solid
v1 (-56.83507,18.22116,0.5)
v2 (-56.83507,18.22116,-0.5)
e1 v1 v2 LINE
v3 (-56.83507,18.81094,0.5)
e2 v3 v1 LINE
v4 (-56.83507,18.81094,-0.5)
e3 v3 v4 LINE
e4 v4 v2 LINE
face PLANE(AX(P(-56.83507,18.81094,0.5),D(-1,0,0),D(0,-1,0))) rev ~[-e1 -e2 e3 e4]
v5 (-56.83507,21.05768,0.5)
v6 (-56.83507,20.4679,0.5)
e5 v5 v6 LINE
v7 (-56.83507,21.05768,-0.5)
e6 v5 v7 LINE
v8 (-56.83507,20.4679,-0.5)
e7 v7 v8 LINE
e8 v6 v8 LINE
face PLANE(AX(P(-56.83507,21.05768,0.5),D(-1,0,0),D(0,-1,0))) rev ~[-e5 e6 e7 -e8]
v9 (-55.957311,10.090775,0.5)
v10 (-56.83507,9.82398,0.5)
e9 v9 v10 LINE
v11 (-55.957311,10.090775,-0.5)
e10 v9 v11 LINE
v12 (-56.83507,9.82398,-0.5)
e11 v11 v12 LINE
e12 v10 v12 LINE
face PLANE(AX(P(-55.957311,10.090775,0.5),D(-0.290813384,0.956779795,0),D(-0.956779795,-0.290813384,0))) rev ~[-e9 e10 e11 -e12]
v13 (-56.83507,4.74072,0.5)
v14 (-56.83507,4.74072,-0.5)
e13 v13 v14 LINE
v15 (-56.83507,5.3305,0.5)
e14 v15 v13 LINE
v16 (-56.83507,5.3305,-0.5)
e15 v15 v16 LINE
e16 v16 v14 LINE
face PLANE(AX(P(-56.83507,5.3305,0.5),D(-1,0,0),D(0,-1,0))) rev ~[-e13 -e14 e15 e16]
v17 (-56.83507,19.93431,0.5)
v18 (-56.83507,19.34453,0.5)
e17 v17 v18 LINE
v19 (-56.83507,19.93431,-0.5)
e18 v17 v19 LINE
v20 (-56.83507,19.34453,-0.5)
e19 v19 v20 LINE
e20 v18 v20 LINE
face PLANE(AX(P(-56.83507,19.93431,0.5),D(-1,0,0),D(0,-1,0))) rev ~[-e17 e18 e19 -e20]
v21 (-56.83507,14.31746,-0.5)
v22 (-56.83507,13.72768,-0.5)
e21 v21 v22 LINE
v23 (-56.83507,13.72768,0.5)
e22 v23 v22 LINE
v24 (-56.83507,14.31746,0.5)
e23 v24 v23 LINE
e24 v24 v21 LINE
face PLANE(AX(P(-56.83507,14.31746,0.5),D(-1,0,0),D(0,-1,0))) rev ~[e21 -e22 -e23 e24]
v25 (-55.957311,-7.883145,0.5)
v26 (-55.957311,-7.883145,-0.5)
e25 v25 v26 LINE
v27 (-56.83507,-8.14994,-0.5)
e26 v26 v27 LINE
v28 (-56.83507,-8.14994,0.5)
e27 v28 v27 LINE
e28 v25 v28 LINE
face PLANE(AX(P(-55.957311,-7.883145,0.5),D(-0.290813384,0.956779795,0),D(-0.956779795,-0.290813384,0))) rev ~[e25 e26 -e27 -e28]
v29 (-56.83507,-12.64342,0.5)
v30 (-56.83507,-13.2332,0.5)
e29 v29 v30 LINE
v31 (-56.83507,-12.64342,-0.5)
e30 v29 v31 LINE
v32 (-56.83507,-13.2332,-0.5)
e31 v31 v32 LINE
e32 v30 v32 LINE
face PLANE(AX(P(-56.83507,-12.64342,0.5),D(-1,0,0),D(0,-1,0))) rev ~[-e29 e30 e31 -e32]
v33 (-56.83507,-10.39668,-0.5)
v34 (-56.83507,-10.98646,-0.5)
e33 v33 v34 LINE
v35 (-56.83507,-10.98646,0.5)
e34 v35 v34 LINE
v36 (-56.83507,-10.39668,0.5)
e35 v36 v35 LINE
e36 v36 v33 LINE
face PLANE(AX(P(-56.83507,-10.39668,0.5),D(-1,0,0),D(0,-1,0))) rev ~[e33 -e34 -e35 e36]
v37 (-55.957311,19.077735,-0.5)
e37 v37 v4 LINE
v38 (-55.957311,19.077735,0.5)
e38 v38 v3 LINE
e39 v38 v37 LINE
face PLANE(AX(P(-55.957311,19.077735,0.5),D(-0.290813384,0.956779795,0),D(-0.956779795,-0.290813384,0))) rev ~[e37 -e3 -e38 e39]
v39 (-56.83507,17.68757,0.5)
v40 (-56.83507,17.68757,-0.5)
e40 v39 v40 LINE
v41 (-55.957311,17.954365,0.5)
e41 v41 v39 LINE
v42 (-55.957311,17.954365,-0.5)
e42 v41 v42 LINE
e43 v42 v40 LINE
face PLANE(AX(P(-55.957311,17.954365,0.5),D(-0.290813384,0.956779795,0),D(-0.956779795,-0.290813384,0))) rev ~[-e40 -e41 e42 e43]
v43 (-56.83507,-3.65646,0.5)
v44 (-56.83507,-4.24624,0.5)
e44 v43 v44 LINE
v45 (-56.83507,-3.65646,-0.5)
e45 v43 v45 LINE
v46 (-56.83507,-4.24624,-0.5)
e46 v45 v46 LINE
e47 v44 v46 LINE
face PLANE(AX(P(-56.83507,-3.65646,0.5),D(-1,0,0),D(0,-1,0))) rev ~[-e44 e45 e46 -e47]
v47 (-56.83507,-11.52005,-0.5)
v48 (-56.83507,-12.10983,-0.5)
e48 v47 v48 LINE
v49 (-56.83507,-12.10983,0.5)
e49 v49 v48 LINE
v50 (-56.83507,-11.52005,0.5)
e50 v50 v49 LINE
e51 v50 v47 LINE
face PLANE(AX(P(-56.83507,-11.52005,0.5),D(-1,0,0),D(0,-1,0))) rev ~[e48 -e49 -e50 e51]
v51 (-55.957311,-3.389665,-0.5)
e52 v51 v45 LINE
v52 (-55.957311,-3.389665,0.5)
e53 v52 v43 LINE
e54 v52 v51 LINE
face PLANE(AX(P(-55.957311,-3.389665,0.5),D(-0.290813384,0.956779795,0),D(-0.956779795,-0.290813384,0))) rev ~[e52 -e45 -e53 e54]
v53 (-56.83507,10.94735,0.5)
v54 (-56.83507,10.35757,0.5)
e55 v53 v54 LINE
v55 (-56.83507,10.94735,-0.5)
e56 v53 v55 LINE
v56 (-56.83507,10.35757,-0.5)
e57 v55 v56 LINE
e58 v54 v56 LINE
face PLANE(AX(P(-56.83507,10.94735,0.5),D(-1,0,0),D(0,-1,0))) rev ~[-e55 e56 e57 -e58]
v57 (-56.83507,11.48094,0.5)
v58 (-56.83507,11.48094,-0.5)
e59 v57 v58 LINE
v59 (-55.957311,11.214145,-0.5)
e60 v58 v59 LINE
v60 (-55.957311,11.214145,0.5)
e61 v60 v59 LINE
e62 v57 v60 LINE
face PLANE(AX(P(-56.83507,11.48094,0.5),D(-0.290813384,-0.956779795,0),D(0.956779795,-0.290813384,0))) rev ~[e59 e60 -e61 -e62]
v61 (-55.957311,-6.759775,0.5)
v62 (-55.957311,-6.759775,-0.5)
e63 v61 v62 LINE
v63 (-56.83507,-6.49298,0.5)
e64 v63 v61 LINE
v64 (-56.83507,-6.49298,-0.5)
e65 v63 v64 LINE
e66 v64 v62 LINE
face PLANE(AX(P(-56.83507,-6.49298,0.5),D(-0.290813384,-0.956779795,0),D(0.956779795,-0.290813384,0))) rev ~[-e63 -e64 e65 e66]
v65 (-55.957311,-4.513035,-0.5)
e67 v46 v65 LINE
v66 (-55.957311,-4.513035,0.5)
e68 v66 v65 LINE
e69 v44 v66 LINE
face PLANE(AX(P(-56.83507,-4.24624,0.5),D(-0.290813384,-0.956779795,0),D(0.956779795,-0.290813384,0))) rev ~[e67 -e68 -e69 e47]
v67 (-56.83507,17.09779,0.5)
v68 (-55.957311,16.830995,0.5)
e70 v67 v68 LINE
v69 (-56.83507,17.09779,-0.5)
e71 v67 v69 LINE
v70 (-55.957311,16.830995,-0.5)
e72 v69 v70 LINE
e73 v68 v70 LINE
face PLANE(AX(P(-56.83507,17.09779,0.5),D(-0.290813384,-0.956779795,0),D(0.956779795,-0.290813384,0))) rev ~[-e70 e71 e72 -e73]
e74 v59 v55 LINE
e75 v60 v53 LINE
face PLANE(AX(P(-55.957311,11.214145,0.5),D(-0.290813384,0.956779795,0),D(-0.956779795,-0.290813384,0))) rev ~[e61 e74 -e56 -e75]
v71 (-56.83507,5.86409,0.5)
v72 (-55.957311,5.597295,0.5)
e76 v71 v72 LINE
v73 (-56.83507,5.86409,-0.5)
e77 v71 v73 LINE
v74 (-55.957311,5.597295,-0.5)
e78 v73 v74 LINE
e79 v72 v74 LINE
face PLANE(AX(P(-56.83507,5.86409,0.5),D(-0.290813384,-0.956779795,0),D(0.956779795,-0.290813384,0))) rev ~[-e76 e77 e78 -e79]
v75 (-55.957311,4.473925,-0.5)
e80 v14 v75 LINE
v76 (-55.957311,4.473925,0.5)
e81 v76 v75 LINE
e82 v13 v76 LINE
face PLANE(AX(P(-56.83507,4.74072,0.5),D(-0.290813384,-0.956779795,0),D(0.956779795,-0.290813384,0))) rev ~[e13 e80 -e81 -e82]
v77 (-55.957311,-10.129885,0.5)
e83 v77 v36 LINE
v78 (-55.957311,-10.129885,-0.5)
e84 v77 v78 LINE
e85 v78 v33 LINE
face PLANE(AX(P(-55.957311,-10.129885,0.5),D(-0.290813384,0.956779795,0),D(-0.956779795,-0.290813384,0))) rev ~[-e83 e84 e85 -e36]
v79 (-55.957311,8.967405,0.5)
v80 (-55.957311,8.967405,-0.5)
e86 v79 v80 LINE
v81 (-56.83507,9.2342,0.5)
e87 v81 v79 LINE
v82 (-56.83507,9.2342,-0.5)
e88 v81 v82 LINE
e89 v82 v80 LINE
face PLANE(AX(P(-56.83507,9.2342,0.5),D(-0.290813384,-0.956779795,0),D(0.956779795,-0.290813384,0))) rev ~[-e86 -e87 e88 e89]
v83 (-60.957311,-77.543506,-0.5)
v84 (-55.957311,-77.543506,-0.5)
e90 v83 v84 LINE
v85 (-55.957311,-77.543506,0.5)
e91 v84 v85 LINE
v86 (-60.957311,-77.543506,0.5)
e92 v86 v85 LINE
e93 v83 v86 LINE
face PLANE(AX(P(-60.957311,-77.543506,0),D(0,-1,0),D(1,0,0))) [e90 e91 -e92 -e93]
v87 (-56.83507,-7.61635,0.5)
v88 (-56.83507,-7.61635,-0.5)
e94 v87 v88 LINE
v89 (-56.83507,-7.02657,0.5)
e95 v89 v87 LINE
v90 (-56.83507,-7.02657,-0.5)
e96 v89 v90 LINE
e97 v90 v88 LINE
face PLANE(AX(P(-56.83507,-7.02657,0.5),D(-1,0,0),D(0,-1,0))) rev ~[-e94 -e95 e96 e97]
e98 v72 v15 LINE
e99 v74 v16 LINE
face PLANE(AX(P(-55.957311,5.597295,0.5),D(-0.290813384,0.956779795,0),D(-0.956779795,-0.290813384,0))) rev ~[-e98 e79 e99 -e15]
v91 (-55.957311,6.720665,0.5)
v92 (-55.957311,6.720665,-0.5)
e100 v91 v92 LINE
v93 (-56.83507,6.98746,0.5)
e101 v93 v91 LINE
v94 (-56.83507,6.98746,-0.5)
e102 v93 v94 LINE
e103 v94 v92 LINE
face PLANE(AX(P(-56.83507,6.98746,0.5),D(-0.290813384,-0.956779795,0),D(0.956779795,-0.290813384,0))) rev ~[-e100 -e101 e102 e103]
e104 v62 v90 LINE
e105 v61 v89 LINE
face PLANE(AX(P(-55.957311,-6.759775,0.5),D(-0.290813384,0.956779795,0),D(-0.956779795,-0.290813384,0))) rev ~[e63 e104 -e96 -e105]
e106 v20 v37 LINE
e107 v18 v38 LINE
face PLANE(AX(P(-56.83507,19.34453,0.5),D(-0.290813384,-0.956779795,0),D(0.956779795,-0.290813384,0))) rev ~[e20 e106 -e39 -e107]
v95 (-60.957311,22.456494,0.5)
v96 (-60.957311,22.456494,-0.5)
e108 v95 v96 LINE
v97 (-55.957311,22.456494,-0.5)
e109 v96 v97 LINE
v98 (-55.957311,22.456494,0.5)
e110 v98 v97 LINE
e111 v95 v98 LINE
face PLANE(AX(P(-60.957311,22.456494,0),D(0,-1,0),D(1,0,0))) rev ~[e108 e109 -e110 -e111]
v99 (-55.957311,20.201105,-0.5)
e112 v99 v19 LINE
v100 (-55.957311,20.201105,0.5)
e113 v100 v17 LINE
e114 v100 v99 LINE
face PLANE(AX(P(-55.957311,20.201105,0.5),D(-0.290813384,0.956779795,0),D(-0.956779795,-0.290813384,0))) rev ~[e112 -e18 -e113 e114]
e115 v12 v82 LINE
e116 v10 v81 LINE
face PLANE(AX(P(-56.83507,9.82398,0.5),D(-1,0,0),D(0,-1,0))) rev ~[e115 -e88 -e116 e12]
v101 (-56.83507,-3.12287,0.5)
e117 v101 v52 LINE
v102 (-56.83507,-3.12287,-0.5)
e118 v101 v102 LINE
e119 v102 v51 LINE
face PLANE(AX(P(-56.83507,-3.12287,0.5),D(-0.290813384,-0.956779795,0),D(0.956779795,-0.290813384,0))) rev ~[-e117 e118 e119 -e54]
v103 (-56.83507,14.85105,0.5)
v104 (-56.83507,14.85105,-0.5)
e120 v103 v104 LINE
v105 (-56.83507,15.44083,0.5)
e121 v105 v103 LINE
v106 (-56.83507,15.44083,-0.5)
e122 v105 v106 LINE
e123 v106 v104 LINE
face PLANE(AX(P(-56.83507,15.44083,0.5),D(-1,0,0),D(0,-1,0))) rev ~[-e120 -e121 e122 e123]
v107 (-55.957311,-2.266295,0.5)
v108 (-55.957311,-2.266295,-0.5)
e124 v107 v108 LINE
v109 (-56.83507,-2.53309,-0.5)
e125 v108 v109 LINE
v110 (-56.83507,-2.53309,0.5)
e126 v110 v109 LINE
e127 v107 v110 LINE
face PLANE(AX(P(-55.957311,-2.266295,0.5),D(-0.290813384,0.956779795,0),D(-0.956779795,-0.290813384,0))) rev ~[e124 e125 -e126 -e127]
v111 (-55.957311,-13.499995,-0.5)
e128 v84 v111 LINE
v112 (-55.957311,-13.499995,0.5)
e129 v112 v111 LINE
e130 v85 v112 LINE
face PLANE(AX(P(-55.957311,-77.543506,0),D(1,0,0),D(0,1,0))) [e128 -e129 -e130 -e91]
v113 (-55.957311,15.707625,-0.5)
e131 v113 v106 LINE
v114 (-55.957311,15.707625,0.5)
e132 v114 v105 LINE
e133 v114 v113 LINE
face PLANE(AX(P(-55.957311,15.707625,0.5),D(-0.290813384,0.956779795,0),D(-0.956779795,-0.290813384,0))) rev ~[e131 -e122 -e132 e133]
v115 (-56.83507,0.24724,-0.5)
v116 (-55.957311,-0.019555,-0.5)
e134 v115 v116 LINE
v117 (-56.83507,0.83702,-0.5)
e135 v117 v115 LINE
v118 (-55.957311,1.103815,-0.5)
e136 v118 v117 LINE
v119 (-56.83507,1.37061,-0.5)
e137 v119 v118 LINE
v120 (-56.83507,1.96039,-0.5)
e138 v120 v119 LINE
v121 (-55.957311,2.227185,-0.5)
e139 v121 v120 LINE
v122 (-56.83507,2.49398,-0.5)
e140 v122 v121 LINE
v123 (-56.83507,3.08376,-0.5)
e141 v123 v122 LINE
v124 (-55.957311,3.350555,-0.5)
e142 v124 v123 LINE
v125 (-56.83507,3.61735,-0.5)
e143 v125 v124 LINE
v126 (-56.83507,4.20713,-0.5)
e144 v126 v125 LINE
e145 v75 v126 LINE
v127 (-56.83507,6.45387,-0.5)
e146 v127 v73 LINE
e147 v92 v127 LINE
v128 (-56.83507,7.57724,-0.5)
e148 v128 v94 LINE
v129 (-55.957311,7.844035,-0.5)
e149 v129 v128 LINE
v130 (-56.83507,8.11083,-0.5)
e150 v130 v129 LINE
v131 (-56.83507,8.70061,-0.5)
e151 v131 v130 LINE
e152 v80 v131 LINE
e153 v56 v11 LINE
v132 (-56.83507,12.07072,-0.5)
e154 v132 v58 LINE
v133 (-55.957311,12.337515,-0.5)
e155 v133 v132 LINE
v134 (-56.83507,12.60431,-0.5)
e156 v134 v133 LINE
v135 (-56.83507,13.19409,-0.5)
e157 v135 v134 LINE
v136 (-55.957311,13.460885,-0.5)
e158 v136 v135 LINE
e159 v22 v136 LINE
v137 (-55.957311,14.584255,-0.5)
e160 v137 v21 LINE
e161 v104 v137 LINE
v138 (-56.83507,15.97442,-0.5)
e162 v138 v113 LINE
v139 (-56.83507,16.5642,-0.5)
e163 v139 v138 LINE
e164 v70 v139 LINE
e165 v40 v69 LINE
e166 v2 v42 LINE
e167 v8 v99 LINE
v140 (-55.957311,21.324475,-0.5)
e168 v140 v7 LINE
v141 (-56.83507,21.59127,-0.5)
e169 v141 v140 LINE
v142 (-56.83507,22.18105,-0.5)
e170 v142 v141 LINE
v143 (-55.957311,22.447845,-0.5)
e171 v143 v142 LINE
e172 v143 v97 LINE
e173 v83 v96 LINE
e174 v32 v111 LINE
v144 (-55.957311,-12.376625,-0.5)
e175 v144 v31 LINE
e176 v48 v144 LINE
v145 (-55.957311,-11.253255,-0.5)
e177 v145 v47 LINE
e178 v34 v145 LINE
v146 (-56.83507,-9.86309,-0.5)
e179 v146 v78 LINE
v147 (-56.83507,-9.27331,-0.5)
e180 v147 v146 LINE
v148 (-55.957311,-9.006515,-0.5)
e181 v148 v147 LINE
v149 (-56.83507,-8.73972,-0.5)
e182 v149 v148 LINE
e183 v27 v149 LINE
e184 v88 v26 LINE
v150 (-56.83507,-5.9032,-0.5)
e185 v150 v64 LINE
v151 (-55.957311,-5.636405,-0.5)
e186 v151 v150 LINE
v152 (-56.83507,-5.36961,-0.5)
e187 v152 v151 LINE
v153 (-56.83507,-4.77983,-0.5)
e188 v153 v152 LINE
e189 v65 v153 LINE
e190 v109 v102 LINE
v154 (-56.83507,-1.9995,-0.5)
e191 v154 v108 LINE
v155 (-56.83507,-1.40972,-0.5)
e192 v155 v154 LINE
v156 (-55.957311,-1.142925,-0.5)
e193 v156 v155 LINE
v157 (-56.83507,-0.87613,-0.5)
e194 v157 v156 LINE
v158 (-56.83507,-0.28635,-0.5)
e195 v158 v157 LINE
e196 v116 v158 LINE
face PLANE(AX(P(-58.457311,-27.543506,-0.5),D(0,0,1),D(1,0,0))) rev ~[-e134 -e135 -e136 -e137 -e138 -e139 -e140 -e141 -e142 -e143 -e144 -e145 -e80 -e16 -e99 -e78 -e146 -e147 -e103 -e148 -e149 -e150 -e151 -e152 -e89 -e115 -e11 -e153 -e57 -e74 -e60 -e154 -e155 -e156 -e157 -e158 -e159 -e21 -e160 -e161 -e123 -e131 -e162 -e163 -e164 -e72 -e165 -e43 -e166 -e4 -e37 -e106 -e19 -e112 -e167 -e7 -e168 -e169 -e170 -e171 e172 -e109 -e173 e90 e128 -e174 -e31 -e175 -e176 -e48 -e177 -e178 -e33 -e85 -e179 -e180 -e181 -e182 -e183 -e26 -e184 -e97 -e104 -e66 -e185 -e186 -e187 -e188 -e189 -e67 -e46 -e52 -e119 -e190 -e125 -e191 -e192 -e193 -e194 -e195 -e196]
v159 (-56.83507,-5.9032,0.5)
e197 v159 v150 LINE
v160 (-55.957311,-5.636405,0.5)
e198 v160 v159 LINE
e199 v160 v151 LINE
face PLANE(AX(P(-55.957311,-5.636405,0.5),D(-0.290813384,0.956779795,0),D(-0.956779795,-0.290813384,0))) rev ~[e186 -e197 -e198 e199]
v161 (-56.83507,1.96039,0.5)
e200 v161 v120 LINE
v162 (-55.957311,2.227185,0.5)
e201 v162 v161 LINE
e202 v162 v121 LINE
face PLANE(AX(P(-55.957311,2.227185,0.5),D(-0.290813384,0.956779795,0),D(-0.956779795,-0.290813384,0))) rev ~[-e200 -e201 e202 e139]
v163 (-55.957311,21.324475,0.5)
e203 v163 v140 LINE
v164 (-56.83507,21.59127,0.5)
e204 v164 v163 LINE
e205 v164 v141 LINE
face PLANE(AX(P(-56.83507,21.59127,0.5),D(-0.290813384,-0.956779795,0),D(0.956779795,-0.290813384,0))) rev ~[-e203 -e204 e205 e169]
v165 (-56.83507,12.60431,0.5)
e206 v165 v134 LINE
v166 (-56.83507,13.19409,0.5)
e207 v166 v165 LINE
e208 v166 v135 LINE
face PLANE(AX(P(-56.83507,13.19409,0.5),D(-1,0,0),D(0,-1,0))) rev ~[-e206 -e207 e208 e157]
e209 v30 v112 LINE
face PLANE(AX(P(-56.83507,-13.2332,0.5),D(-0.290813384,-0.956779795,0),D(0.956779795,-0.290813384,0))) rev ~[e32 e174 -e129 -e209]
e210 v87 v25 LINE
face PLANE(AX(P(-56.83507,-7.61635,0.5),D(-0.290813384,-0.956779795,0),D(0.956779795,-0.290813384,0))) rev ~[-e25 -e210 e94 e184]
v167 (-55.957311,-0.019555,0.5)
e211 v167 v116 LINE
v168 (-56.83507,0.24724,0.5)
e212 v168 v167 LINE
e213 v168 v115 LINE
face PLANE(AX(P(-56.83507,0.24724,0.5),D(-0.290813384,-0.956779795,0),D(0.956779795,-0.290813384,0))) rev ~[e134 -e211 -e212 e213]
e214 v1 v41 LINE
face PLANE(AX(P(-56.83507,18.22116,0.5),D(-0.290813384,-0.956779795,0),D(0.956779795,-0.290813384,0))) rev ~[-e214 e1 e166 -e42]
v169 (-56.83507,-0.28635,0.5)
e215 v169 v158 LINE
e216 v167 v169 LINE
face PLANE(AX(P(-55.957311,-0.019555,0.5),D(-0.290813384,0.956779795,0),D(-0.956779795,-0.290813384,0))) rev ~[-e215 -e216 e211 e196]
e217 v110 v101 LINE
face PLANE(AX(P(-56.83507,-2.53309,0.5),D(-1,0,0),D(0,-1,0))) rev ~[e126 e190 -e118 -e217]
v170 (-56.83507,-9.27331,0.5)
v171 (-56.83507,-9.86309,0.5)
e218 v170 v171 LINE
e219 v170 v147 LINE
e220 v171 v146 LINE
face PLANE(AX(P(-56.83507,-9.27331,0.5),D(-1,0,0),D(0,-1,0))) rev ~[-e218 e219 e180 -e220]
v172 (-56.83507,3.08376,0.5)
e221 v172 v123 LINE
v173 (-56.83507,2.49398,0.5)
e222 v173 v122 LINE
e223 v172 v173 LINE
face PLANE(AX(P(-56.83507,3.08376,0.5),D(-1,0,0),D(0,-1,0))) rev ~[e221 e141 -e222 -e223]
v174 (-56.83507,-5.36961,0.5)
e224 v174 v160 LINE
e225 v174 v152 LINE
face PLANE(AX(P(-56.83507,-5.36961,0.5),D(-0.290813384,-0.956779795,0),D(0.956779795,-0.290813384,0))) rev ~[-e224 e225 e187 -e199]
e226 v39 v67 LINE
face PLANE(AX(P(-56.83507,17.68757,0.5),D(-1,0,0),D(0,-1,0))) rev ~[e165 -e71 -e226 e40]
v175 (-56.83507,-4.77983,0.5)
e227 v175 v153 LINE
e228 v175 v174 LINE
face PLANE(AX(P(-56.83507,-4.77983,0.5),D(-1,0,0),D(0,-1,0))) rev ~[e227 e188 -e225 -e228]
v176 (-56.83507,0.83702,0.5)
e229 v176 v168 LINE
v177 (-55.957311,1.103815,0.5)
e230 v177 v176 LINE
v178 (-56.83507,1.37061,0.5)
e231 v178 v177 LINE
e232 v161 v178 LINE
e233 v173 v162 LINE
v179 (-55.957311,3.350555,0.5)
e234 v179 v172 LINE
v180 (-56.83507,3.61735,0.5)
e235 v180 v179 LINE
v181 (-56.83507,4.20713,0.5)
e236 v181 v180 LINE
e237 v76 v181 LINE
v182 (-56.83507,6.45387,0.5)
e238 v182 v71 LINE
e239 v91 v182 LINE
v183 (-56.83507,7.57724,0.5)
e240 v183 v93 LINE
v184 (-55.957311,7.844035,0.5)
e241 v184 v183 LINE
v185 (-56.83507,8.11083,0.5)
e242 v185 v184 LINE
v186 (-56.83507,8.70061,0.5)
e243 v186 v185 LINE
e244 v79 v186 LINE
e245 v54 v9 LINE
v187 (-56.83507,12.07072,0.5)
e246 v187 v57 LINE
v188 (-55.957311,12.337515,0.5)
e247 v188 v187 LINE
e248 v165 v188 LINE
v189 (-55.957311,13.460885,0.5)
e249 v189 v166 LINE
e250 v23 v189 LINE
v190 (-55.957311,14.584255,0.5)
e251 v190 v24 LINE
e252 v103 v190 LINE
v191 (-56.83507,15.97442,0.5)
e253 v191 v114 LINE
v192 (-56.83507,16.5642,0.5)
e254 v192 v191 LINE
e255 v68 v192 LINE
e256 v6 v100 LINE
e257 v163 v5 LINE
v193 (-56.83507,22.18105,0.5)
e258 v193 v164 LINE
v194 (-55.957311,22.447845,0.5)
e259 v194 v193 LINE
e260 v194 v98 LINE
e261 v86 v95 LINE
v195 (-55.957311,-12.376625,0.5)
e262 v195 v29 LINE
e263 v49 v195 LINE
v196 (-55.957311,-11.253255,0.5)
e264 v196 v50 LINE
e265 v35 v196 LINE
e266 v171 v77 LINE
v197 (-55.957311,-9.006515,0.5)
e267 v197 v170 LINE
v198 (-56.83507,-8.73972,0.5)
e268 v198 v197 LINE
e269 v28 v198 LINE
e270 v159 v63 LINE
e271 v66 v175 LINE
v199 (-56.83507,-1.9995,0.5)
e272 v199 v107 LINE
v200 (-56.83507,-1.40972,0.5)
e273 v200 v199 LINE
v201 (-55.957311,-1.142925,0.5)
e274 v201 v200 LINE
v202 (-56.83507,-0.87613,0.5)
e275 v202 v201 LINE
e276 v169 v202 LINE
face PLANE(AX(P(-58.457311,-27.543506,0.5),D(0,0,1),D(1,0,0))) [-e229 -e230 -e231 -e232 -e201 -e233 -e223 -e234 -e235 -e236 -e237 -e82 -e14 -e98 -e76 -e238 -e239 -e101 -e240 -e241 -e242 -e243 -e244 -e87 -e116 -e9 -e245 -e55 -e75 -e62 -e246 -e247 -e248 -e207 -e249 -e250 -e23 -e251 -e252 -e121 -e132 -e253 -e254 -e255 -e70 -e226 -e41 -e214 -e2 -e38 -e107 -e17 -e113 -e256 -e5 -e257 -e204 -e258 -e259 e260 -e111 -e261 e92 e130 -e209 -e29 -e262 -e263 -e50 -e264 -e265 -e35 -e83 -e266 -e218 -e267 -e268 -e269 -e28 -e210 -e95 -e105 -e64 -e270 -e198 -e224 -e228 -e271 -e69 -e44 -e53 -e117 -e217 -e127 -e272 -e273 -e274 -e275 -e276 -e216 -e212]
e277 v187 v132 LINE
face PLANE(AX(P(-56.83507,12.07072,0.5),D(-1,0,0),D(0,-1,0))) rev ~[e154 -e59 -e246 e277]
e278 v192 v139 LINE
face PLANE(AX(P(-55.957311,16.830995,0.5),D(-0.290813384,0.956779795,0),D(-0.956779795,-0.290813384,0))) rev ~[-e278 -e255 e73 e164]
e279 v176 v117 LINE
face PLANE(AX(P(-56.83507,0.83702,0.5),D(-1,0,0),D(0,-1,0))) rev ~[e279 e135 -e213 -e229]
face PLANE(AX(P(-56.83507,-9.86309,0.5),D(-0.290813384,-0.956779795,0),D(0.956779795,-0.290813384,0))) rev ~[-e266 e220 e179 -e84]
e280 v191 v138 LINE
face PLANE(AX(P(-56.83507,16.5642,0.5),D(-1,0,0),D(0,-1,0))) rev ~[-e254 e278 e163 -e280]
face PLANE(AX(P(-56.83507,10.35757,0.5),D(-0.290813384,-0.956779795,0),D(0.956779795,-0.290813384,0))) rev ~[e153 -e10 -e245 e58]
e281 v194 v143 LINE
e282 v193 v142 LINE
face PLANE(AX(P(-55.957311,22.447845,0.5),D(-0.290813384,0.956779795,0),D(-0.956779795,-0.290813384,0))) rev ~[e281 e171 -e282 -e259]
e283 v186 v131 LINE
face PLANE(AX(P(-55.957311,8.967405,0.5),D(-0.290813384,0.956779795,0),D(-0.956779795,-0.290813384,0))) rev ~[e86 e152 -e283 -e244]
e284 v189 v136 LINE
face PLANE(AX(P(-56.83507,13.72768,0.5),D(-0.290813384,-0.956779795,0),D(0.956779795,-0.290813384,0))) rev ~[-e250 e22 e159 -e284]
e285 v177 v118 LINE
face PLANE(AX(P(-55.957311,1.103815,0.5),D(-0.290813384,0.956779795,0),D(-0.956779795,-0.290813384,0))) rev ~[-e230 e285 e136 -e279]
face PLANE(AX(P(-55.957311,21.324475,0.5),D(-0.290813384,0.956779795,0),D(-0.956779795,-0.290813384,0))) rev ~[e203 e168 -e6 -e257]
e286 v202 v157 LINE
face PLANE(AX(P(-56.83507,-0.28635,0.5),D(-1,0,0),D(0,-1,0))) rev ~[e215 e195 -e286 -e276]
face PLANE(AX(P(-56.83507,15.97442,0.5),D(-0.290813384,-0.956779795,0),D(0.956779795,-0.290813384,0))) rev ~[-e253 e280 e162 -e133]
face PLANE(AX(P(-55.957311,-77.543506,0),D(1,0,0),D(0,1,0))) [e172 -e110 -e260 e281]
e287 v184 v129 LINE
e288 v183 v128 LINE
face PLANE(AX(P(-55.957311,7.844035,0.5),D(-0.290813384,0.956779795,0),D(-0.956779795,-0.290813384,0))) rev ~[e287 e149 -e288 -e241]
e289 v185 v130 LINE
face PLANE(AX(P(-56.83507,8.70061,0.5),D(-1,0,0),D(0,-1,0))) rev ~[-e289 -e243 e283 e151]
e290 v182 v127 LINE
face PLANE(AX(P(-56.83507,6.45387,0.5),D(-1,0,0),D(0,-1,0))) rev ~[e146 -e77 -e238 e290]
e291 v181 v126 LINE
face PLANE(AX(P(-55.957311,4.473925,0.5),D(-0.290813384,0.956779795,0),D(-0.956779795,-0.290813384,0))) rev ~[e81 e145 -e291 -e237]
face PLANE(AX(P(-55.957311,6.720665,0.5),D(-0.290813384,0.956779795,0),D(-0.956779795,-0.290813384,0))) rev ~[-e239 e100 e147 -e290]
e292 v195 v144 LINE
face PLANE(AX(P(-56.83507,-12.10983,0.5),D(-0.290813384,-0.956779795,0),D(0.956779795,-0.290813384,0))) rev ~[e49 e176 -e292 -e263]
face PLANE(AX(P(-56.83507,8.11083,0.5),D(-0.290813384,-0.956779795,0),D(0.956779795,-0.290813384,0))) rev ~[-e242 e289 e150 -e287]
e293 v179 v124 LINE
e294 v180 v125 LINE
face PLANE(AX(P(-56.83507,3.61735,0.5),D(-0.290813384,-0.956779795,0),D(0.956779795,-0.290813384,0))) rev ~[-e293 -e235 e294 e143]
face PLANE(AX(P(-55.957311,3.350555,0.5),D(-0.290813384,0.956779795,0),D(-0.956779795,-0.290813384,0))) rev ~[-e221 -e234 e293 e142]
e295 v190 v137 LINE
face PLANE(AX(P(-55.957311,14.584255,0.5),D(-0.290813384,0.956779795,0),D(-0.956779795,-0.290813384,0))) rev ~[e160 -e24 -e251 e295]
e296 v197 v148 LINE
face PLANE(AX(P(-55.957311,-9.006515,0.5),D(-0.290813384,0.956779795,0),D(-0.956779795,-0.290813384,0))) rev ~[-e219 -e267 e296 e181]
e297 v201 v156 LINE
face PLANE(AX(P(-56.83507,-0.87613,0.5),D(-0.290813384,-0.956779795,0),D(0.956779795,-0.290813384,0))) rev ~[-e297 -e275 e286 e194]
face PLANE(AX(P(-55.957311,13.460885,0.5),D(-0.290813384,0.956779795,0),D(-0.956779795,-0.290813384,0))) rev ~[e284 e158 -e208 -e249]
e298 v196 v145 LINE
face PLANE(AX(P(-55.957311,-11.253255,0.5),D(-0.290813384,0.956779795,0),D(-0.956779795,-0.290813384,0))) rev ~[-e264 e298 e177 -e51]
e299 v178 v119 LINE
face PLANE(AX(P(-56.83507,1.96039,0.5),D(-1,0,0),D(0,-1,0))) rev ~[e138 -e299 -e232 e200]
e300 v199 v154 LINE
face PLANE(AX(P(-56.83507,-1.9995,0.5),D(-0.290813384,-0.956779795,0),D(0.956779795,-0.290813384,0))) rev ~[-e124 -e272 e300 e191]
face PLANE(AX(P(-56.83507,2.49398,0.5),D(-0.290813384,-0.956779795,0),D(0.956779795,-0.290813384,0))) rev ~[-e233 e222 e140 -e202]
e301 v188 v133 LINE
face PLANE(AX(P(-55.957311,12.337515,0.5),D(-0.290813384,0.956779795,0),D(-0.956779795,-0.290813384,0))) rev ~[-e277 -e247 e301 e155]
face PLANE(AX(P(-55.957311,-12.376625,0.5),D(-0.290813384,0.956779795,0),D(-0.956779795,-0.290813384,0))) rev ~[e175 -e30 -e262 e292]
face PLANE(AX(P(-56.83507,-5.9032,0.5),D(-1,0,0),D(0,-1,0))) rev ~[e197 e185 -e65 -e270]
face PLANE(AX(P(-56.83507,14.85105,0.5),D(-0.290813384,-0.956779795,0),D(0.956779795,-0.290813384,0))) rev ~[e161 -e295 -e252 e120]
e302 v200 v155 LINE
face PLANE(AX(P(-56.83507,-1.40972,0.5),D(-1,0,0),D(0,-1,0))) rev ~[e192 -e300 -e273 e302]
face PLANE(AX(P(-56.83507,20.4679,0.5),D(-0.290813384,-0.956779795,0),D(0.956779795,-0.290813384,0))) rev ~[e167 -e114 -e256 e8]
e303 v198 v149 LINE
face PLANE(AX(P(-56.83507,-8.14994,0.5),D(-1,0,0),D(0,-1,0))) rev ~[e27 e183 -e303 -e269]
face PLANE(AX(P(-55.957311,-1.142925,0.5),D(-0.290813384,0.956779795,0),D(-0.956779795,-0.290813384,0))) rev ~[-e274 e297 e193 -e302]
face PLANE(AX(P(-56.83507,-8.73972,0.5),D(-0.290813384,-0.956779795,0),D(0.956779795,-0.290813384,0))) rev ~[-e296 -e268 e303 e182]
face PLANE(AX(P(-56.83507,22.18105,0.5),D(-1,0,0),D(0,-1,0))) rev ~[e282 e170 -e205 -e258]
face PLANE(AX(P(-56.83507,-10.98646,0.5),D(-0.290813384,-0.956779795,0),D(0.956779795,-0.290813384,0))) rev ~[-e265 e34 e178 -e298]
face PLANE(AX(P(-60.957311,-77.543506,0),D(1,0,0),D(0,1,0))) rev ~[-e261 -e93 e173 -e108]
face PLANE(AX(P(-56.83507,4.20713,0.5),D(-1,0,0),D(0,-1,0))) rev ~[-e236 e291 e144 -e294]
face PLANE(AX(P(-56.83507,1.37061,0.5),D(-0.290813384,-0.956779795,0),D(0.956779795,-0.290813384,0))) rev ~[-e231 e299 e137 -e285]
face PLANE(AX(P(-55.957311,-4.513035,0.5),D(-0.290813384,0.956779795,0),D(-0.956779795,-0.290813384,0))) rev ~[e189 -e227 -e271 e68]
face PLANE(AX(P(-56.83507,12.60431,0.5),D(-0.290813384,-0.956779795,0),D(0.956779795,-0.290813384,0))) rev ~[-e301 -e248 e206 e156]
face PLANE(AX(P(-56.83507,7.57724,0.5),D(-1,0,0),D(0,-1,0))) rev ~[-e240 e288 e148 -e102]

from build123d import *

# Parameters (mm, degrees)
F0_W     = 5
F0_H     = 100
F1_DEPTH = 0.5
F3_DEPTH = 25


with BuildPart() as f1:
    # F0 (on Top) → F1 (new body, symmetric)
    with BuildSketch(Plane.XY):
        with Locations((-58.457311, -27.543506)):
            Rectangle(F0_W, F0_H)
    extrude(amount=F1_DEPTH, both=True)

    # F2 (on face) → F3 (cut)
    with BuildSketch(Plane.XY.offset(0.5)):
        Polygon((-55.957311, 22.447845), (-56.83507, 22.18105), (-56.83507, 21.59127), (-55.957311, 21.324475), align=None)
        Polygon((-55.957311, 20.201105), (-55.957311, 21.324475), (-56.83507, 21.05768), (-56.83507, 20.4679), align=None)
        Polygon((-55.957311, 19.077735), (-55.957311, 20.201105), (-56.83507, 19.93431), (-56.83507, 19.34453), align=None)
        Polygon((-55.957311, 17.954365), (-55.957311, 19.077735), (-56.83507, 18.81094), (-56.83507, 18.22116), align=None)
        Polygon((-55.957311, 16.830995), (-55.957311, 17.954365), (-56.83507, 17.68757), (-56.83507, 17.09779), align=None)
        Polygon((-55.957311, 15.707625), (-55.957311, 16.830995), (-56.83507, 16.5642), (-56.83507, 15.97442), align=None)
        Polygon((-55.957311, 14.584255), (-55.957311, 15.707625), (-56.83507, 15.44083), (-56.83507, 14.85105), align=None)
        Polygon((-55.957311, 13.460885), (-55.957311, 14.584255), (-56.83507, 14.31746), (-56.83507, 13.72768), align=None)
        Polygon((-55.957311, 12.337515), (-55.957311, 13.460885), (-56.83507, 13.19409), (-56.83507, 12.60431), align=None)
        Polygon((-55.957311, 11.214145), (-55.957311, 12.337515), (-56.83507, 12.07072), (-56.83507, 11.48094), align=None)
        Polygon((-55.957311, 10.090775), (-55.957311, 11.214145), (-56.83507, 10.94735), (-56.83507, 10.35757), align=None)
        Polygon((-55.957311, 8.967405), (-55.957311, 10.090775), (-56.83507, 9.82398), (-56.83507, 9.2342), align=None)
        Polygon((-55.957311, 7.844035), (-55.957311, 8.967405), (-56.83507, 8.70061), (-56.83507, 8.11083), align=None)
        Polygon((-55.957311, 6.720665), (-55.957311, 7.844035), (-56.83507, 7.57724), (-56.83507, 6.98746), align=None)
        Polygon((-55.957311, 5.597295), (-55.957311, 6.720665), (-56.83507, 6.45387), (-56.83507, 5.86409), align=None)
        Polygon((-55.957311, 4.473925), (-55.957311, 5.597295), (-56.83507, 5.3305), (-56.83507, 4.74072), align=None)
        Polygon((-55.957311, 3.350555), (-55.957311, 4.473925), (-56.83507, 4.20713), (-56.83507, 3.61735), align=None)
        Polygon((-55.957311, 2.227185), (-55.957311, 3.350555), (-56.83507, 3.08376), (-56.83507, 2.49398), align=None)
        Polygon((-55.957311, 1.103815), (-55.957311, 2.227185), (-56.83507, 1.96039), (-56.83507, 1.37061), align=None)
        Polygon((-56.83507, 0.24724), (-55.957311, -0.019555), (-55.957311, 1.103815), (-56.83507, 0.83702), align=None)
        Polygon((-56.83507, -0.87613), (-55.957311, -1.142925), (-55.957311, -0.019555), (-56.83507, -0.28635), align=None)
        Polygon((-56.83507, -1.9995), (-55.957311, -2.266295), (-55.957311, -1.142925), (-56.83507, -1.40972), align=None)
        Polygon((-56.83507, -3.12287), (-55.957311, -3.389665), (-55.957311, -2.266295), (-56.83507, -2.53309), align=None)
        Polygon((-56.83507, -4.24624), (-55.957311, -4.513035), (-55.957311, -3.389665), (-56.83507, -3.65646), align=None)
        Polygon((-56.83507, -5.36961), (-55.957311, -5.636405), (-55.957311, -4.513035), (-56.83507, -4.77983), align=None)
        Polygon((-56.83507, -6.49298), (-55.957311, -6.759775), (-55.957311, -5.636405), (-56.83507, -5.9032), align=None)
        Polygon((-56.83507, -7.61635), (-55.957311, -7.883145), (-55.957311, -6.759775), (-56.83507, -7.02657), align=None)
        Polygon((-56.83507, -8.73972), (-55.957311, -9.006515), (-55.957311, -7.883145), (-56.83507, -8.14994), align=None)
        Polygon((-56.83507, -9.86309), (-55.957311, -10.129885), (-55.957311, -9.006515), (-56.83507, -9.27331), align=None)
        Polygon((-56.83507, -10.98646), (-55.957311, -11.253255), (-55.957311, -10.129885), (-56.83507, -10.39668), align=None)
        Polygon((-56.83507, -12.10983), (-55.957311, -12.376625), (-55.957311, -11.253255), (-56.83507, -11.52005), align=None)
        Polygon((-56.83507, -13.2332), (-55.957311, -13.499995), (-55.957311, -12.376625), (-56.83507, -12.64342), align=None)
    extrude(amount=-F3_DEPTH, mode=Mode.SUBTRACT)


solid = f1.part
